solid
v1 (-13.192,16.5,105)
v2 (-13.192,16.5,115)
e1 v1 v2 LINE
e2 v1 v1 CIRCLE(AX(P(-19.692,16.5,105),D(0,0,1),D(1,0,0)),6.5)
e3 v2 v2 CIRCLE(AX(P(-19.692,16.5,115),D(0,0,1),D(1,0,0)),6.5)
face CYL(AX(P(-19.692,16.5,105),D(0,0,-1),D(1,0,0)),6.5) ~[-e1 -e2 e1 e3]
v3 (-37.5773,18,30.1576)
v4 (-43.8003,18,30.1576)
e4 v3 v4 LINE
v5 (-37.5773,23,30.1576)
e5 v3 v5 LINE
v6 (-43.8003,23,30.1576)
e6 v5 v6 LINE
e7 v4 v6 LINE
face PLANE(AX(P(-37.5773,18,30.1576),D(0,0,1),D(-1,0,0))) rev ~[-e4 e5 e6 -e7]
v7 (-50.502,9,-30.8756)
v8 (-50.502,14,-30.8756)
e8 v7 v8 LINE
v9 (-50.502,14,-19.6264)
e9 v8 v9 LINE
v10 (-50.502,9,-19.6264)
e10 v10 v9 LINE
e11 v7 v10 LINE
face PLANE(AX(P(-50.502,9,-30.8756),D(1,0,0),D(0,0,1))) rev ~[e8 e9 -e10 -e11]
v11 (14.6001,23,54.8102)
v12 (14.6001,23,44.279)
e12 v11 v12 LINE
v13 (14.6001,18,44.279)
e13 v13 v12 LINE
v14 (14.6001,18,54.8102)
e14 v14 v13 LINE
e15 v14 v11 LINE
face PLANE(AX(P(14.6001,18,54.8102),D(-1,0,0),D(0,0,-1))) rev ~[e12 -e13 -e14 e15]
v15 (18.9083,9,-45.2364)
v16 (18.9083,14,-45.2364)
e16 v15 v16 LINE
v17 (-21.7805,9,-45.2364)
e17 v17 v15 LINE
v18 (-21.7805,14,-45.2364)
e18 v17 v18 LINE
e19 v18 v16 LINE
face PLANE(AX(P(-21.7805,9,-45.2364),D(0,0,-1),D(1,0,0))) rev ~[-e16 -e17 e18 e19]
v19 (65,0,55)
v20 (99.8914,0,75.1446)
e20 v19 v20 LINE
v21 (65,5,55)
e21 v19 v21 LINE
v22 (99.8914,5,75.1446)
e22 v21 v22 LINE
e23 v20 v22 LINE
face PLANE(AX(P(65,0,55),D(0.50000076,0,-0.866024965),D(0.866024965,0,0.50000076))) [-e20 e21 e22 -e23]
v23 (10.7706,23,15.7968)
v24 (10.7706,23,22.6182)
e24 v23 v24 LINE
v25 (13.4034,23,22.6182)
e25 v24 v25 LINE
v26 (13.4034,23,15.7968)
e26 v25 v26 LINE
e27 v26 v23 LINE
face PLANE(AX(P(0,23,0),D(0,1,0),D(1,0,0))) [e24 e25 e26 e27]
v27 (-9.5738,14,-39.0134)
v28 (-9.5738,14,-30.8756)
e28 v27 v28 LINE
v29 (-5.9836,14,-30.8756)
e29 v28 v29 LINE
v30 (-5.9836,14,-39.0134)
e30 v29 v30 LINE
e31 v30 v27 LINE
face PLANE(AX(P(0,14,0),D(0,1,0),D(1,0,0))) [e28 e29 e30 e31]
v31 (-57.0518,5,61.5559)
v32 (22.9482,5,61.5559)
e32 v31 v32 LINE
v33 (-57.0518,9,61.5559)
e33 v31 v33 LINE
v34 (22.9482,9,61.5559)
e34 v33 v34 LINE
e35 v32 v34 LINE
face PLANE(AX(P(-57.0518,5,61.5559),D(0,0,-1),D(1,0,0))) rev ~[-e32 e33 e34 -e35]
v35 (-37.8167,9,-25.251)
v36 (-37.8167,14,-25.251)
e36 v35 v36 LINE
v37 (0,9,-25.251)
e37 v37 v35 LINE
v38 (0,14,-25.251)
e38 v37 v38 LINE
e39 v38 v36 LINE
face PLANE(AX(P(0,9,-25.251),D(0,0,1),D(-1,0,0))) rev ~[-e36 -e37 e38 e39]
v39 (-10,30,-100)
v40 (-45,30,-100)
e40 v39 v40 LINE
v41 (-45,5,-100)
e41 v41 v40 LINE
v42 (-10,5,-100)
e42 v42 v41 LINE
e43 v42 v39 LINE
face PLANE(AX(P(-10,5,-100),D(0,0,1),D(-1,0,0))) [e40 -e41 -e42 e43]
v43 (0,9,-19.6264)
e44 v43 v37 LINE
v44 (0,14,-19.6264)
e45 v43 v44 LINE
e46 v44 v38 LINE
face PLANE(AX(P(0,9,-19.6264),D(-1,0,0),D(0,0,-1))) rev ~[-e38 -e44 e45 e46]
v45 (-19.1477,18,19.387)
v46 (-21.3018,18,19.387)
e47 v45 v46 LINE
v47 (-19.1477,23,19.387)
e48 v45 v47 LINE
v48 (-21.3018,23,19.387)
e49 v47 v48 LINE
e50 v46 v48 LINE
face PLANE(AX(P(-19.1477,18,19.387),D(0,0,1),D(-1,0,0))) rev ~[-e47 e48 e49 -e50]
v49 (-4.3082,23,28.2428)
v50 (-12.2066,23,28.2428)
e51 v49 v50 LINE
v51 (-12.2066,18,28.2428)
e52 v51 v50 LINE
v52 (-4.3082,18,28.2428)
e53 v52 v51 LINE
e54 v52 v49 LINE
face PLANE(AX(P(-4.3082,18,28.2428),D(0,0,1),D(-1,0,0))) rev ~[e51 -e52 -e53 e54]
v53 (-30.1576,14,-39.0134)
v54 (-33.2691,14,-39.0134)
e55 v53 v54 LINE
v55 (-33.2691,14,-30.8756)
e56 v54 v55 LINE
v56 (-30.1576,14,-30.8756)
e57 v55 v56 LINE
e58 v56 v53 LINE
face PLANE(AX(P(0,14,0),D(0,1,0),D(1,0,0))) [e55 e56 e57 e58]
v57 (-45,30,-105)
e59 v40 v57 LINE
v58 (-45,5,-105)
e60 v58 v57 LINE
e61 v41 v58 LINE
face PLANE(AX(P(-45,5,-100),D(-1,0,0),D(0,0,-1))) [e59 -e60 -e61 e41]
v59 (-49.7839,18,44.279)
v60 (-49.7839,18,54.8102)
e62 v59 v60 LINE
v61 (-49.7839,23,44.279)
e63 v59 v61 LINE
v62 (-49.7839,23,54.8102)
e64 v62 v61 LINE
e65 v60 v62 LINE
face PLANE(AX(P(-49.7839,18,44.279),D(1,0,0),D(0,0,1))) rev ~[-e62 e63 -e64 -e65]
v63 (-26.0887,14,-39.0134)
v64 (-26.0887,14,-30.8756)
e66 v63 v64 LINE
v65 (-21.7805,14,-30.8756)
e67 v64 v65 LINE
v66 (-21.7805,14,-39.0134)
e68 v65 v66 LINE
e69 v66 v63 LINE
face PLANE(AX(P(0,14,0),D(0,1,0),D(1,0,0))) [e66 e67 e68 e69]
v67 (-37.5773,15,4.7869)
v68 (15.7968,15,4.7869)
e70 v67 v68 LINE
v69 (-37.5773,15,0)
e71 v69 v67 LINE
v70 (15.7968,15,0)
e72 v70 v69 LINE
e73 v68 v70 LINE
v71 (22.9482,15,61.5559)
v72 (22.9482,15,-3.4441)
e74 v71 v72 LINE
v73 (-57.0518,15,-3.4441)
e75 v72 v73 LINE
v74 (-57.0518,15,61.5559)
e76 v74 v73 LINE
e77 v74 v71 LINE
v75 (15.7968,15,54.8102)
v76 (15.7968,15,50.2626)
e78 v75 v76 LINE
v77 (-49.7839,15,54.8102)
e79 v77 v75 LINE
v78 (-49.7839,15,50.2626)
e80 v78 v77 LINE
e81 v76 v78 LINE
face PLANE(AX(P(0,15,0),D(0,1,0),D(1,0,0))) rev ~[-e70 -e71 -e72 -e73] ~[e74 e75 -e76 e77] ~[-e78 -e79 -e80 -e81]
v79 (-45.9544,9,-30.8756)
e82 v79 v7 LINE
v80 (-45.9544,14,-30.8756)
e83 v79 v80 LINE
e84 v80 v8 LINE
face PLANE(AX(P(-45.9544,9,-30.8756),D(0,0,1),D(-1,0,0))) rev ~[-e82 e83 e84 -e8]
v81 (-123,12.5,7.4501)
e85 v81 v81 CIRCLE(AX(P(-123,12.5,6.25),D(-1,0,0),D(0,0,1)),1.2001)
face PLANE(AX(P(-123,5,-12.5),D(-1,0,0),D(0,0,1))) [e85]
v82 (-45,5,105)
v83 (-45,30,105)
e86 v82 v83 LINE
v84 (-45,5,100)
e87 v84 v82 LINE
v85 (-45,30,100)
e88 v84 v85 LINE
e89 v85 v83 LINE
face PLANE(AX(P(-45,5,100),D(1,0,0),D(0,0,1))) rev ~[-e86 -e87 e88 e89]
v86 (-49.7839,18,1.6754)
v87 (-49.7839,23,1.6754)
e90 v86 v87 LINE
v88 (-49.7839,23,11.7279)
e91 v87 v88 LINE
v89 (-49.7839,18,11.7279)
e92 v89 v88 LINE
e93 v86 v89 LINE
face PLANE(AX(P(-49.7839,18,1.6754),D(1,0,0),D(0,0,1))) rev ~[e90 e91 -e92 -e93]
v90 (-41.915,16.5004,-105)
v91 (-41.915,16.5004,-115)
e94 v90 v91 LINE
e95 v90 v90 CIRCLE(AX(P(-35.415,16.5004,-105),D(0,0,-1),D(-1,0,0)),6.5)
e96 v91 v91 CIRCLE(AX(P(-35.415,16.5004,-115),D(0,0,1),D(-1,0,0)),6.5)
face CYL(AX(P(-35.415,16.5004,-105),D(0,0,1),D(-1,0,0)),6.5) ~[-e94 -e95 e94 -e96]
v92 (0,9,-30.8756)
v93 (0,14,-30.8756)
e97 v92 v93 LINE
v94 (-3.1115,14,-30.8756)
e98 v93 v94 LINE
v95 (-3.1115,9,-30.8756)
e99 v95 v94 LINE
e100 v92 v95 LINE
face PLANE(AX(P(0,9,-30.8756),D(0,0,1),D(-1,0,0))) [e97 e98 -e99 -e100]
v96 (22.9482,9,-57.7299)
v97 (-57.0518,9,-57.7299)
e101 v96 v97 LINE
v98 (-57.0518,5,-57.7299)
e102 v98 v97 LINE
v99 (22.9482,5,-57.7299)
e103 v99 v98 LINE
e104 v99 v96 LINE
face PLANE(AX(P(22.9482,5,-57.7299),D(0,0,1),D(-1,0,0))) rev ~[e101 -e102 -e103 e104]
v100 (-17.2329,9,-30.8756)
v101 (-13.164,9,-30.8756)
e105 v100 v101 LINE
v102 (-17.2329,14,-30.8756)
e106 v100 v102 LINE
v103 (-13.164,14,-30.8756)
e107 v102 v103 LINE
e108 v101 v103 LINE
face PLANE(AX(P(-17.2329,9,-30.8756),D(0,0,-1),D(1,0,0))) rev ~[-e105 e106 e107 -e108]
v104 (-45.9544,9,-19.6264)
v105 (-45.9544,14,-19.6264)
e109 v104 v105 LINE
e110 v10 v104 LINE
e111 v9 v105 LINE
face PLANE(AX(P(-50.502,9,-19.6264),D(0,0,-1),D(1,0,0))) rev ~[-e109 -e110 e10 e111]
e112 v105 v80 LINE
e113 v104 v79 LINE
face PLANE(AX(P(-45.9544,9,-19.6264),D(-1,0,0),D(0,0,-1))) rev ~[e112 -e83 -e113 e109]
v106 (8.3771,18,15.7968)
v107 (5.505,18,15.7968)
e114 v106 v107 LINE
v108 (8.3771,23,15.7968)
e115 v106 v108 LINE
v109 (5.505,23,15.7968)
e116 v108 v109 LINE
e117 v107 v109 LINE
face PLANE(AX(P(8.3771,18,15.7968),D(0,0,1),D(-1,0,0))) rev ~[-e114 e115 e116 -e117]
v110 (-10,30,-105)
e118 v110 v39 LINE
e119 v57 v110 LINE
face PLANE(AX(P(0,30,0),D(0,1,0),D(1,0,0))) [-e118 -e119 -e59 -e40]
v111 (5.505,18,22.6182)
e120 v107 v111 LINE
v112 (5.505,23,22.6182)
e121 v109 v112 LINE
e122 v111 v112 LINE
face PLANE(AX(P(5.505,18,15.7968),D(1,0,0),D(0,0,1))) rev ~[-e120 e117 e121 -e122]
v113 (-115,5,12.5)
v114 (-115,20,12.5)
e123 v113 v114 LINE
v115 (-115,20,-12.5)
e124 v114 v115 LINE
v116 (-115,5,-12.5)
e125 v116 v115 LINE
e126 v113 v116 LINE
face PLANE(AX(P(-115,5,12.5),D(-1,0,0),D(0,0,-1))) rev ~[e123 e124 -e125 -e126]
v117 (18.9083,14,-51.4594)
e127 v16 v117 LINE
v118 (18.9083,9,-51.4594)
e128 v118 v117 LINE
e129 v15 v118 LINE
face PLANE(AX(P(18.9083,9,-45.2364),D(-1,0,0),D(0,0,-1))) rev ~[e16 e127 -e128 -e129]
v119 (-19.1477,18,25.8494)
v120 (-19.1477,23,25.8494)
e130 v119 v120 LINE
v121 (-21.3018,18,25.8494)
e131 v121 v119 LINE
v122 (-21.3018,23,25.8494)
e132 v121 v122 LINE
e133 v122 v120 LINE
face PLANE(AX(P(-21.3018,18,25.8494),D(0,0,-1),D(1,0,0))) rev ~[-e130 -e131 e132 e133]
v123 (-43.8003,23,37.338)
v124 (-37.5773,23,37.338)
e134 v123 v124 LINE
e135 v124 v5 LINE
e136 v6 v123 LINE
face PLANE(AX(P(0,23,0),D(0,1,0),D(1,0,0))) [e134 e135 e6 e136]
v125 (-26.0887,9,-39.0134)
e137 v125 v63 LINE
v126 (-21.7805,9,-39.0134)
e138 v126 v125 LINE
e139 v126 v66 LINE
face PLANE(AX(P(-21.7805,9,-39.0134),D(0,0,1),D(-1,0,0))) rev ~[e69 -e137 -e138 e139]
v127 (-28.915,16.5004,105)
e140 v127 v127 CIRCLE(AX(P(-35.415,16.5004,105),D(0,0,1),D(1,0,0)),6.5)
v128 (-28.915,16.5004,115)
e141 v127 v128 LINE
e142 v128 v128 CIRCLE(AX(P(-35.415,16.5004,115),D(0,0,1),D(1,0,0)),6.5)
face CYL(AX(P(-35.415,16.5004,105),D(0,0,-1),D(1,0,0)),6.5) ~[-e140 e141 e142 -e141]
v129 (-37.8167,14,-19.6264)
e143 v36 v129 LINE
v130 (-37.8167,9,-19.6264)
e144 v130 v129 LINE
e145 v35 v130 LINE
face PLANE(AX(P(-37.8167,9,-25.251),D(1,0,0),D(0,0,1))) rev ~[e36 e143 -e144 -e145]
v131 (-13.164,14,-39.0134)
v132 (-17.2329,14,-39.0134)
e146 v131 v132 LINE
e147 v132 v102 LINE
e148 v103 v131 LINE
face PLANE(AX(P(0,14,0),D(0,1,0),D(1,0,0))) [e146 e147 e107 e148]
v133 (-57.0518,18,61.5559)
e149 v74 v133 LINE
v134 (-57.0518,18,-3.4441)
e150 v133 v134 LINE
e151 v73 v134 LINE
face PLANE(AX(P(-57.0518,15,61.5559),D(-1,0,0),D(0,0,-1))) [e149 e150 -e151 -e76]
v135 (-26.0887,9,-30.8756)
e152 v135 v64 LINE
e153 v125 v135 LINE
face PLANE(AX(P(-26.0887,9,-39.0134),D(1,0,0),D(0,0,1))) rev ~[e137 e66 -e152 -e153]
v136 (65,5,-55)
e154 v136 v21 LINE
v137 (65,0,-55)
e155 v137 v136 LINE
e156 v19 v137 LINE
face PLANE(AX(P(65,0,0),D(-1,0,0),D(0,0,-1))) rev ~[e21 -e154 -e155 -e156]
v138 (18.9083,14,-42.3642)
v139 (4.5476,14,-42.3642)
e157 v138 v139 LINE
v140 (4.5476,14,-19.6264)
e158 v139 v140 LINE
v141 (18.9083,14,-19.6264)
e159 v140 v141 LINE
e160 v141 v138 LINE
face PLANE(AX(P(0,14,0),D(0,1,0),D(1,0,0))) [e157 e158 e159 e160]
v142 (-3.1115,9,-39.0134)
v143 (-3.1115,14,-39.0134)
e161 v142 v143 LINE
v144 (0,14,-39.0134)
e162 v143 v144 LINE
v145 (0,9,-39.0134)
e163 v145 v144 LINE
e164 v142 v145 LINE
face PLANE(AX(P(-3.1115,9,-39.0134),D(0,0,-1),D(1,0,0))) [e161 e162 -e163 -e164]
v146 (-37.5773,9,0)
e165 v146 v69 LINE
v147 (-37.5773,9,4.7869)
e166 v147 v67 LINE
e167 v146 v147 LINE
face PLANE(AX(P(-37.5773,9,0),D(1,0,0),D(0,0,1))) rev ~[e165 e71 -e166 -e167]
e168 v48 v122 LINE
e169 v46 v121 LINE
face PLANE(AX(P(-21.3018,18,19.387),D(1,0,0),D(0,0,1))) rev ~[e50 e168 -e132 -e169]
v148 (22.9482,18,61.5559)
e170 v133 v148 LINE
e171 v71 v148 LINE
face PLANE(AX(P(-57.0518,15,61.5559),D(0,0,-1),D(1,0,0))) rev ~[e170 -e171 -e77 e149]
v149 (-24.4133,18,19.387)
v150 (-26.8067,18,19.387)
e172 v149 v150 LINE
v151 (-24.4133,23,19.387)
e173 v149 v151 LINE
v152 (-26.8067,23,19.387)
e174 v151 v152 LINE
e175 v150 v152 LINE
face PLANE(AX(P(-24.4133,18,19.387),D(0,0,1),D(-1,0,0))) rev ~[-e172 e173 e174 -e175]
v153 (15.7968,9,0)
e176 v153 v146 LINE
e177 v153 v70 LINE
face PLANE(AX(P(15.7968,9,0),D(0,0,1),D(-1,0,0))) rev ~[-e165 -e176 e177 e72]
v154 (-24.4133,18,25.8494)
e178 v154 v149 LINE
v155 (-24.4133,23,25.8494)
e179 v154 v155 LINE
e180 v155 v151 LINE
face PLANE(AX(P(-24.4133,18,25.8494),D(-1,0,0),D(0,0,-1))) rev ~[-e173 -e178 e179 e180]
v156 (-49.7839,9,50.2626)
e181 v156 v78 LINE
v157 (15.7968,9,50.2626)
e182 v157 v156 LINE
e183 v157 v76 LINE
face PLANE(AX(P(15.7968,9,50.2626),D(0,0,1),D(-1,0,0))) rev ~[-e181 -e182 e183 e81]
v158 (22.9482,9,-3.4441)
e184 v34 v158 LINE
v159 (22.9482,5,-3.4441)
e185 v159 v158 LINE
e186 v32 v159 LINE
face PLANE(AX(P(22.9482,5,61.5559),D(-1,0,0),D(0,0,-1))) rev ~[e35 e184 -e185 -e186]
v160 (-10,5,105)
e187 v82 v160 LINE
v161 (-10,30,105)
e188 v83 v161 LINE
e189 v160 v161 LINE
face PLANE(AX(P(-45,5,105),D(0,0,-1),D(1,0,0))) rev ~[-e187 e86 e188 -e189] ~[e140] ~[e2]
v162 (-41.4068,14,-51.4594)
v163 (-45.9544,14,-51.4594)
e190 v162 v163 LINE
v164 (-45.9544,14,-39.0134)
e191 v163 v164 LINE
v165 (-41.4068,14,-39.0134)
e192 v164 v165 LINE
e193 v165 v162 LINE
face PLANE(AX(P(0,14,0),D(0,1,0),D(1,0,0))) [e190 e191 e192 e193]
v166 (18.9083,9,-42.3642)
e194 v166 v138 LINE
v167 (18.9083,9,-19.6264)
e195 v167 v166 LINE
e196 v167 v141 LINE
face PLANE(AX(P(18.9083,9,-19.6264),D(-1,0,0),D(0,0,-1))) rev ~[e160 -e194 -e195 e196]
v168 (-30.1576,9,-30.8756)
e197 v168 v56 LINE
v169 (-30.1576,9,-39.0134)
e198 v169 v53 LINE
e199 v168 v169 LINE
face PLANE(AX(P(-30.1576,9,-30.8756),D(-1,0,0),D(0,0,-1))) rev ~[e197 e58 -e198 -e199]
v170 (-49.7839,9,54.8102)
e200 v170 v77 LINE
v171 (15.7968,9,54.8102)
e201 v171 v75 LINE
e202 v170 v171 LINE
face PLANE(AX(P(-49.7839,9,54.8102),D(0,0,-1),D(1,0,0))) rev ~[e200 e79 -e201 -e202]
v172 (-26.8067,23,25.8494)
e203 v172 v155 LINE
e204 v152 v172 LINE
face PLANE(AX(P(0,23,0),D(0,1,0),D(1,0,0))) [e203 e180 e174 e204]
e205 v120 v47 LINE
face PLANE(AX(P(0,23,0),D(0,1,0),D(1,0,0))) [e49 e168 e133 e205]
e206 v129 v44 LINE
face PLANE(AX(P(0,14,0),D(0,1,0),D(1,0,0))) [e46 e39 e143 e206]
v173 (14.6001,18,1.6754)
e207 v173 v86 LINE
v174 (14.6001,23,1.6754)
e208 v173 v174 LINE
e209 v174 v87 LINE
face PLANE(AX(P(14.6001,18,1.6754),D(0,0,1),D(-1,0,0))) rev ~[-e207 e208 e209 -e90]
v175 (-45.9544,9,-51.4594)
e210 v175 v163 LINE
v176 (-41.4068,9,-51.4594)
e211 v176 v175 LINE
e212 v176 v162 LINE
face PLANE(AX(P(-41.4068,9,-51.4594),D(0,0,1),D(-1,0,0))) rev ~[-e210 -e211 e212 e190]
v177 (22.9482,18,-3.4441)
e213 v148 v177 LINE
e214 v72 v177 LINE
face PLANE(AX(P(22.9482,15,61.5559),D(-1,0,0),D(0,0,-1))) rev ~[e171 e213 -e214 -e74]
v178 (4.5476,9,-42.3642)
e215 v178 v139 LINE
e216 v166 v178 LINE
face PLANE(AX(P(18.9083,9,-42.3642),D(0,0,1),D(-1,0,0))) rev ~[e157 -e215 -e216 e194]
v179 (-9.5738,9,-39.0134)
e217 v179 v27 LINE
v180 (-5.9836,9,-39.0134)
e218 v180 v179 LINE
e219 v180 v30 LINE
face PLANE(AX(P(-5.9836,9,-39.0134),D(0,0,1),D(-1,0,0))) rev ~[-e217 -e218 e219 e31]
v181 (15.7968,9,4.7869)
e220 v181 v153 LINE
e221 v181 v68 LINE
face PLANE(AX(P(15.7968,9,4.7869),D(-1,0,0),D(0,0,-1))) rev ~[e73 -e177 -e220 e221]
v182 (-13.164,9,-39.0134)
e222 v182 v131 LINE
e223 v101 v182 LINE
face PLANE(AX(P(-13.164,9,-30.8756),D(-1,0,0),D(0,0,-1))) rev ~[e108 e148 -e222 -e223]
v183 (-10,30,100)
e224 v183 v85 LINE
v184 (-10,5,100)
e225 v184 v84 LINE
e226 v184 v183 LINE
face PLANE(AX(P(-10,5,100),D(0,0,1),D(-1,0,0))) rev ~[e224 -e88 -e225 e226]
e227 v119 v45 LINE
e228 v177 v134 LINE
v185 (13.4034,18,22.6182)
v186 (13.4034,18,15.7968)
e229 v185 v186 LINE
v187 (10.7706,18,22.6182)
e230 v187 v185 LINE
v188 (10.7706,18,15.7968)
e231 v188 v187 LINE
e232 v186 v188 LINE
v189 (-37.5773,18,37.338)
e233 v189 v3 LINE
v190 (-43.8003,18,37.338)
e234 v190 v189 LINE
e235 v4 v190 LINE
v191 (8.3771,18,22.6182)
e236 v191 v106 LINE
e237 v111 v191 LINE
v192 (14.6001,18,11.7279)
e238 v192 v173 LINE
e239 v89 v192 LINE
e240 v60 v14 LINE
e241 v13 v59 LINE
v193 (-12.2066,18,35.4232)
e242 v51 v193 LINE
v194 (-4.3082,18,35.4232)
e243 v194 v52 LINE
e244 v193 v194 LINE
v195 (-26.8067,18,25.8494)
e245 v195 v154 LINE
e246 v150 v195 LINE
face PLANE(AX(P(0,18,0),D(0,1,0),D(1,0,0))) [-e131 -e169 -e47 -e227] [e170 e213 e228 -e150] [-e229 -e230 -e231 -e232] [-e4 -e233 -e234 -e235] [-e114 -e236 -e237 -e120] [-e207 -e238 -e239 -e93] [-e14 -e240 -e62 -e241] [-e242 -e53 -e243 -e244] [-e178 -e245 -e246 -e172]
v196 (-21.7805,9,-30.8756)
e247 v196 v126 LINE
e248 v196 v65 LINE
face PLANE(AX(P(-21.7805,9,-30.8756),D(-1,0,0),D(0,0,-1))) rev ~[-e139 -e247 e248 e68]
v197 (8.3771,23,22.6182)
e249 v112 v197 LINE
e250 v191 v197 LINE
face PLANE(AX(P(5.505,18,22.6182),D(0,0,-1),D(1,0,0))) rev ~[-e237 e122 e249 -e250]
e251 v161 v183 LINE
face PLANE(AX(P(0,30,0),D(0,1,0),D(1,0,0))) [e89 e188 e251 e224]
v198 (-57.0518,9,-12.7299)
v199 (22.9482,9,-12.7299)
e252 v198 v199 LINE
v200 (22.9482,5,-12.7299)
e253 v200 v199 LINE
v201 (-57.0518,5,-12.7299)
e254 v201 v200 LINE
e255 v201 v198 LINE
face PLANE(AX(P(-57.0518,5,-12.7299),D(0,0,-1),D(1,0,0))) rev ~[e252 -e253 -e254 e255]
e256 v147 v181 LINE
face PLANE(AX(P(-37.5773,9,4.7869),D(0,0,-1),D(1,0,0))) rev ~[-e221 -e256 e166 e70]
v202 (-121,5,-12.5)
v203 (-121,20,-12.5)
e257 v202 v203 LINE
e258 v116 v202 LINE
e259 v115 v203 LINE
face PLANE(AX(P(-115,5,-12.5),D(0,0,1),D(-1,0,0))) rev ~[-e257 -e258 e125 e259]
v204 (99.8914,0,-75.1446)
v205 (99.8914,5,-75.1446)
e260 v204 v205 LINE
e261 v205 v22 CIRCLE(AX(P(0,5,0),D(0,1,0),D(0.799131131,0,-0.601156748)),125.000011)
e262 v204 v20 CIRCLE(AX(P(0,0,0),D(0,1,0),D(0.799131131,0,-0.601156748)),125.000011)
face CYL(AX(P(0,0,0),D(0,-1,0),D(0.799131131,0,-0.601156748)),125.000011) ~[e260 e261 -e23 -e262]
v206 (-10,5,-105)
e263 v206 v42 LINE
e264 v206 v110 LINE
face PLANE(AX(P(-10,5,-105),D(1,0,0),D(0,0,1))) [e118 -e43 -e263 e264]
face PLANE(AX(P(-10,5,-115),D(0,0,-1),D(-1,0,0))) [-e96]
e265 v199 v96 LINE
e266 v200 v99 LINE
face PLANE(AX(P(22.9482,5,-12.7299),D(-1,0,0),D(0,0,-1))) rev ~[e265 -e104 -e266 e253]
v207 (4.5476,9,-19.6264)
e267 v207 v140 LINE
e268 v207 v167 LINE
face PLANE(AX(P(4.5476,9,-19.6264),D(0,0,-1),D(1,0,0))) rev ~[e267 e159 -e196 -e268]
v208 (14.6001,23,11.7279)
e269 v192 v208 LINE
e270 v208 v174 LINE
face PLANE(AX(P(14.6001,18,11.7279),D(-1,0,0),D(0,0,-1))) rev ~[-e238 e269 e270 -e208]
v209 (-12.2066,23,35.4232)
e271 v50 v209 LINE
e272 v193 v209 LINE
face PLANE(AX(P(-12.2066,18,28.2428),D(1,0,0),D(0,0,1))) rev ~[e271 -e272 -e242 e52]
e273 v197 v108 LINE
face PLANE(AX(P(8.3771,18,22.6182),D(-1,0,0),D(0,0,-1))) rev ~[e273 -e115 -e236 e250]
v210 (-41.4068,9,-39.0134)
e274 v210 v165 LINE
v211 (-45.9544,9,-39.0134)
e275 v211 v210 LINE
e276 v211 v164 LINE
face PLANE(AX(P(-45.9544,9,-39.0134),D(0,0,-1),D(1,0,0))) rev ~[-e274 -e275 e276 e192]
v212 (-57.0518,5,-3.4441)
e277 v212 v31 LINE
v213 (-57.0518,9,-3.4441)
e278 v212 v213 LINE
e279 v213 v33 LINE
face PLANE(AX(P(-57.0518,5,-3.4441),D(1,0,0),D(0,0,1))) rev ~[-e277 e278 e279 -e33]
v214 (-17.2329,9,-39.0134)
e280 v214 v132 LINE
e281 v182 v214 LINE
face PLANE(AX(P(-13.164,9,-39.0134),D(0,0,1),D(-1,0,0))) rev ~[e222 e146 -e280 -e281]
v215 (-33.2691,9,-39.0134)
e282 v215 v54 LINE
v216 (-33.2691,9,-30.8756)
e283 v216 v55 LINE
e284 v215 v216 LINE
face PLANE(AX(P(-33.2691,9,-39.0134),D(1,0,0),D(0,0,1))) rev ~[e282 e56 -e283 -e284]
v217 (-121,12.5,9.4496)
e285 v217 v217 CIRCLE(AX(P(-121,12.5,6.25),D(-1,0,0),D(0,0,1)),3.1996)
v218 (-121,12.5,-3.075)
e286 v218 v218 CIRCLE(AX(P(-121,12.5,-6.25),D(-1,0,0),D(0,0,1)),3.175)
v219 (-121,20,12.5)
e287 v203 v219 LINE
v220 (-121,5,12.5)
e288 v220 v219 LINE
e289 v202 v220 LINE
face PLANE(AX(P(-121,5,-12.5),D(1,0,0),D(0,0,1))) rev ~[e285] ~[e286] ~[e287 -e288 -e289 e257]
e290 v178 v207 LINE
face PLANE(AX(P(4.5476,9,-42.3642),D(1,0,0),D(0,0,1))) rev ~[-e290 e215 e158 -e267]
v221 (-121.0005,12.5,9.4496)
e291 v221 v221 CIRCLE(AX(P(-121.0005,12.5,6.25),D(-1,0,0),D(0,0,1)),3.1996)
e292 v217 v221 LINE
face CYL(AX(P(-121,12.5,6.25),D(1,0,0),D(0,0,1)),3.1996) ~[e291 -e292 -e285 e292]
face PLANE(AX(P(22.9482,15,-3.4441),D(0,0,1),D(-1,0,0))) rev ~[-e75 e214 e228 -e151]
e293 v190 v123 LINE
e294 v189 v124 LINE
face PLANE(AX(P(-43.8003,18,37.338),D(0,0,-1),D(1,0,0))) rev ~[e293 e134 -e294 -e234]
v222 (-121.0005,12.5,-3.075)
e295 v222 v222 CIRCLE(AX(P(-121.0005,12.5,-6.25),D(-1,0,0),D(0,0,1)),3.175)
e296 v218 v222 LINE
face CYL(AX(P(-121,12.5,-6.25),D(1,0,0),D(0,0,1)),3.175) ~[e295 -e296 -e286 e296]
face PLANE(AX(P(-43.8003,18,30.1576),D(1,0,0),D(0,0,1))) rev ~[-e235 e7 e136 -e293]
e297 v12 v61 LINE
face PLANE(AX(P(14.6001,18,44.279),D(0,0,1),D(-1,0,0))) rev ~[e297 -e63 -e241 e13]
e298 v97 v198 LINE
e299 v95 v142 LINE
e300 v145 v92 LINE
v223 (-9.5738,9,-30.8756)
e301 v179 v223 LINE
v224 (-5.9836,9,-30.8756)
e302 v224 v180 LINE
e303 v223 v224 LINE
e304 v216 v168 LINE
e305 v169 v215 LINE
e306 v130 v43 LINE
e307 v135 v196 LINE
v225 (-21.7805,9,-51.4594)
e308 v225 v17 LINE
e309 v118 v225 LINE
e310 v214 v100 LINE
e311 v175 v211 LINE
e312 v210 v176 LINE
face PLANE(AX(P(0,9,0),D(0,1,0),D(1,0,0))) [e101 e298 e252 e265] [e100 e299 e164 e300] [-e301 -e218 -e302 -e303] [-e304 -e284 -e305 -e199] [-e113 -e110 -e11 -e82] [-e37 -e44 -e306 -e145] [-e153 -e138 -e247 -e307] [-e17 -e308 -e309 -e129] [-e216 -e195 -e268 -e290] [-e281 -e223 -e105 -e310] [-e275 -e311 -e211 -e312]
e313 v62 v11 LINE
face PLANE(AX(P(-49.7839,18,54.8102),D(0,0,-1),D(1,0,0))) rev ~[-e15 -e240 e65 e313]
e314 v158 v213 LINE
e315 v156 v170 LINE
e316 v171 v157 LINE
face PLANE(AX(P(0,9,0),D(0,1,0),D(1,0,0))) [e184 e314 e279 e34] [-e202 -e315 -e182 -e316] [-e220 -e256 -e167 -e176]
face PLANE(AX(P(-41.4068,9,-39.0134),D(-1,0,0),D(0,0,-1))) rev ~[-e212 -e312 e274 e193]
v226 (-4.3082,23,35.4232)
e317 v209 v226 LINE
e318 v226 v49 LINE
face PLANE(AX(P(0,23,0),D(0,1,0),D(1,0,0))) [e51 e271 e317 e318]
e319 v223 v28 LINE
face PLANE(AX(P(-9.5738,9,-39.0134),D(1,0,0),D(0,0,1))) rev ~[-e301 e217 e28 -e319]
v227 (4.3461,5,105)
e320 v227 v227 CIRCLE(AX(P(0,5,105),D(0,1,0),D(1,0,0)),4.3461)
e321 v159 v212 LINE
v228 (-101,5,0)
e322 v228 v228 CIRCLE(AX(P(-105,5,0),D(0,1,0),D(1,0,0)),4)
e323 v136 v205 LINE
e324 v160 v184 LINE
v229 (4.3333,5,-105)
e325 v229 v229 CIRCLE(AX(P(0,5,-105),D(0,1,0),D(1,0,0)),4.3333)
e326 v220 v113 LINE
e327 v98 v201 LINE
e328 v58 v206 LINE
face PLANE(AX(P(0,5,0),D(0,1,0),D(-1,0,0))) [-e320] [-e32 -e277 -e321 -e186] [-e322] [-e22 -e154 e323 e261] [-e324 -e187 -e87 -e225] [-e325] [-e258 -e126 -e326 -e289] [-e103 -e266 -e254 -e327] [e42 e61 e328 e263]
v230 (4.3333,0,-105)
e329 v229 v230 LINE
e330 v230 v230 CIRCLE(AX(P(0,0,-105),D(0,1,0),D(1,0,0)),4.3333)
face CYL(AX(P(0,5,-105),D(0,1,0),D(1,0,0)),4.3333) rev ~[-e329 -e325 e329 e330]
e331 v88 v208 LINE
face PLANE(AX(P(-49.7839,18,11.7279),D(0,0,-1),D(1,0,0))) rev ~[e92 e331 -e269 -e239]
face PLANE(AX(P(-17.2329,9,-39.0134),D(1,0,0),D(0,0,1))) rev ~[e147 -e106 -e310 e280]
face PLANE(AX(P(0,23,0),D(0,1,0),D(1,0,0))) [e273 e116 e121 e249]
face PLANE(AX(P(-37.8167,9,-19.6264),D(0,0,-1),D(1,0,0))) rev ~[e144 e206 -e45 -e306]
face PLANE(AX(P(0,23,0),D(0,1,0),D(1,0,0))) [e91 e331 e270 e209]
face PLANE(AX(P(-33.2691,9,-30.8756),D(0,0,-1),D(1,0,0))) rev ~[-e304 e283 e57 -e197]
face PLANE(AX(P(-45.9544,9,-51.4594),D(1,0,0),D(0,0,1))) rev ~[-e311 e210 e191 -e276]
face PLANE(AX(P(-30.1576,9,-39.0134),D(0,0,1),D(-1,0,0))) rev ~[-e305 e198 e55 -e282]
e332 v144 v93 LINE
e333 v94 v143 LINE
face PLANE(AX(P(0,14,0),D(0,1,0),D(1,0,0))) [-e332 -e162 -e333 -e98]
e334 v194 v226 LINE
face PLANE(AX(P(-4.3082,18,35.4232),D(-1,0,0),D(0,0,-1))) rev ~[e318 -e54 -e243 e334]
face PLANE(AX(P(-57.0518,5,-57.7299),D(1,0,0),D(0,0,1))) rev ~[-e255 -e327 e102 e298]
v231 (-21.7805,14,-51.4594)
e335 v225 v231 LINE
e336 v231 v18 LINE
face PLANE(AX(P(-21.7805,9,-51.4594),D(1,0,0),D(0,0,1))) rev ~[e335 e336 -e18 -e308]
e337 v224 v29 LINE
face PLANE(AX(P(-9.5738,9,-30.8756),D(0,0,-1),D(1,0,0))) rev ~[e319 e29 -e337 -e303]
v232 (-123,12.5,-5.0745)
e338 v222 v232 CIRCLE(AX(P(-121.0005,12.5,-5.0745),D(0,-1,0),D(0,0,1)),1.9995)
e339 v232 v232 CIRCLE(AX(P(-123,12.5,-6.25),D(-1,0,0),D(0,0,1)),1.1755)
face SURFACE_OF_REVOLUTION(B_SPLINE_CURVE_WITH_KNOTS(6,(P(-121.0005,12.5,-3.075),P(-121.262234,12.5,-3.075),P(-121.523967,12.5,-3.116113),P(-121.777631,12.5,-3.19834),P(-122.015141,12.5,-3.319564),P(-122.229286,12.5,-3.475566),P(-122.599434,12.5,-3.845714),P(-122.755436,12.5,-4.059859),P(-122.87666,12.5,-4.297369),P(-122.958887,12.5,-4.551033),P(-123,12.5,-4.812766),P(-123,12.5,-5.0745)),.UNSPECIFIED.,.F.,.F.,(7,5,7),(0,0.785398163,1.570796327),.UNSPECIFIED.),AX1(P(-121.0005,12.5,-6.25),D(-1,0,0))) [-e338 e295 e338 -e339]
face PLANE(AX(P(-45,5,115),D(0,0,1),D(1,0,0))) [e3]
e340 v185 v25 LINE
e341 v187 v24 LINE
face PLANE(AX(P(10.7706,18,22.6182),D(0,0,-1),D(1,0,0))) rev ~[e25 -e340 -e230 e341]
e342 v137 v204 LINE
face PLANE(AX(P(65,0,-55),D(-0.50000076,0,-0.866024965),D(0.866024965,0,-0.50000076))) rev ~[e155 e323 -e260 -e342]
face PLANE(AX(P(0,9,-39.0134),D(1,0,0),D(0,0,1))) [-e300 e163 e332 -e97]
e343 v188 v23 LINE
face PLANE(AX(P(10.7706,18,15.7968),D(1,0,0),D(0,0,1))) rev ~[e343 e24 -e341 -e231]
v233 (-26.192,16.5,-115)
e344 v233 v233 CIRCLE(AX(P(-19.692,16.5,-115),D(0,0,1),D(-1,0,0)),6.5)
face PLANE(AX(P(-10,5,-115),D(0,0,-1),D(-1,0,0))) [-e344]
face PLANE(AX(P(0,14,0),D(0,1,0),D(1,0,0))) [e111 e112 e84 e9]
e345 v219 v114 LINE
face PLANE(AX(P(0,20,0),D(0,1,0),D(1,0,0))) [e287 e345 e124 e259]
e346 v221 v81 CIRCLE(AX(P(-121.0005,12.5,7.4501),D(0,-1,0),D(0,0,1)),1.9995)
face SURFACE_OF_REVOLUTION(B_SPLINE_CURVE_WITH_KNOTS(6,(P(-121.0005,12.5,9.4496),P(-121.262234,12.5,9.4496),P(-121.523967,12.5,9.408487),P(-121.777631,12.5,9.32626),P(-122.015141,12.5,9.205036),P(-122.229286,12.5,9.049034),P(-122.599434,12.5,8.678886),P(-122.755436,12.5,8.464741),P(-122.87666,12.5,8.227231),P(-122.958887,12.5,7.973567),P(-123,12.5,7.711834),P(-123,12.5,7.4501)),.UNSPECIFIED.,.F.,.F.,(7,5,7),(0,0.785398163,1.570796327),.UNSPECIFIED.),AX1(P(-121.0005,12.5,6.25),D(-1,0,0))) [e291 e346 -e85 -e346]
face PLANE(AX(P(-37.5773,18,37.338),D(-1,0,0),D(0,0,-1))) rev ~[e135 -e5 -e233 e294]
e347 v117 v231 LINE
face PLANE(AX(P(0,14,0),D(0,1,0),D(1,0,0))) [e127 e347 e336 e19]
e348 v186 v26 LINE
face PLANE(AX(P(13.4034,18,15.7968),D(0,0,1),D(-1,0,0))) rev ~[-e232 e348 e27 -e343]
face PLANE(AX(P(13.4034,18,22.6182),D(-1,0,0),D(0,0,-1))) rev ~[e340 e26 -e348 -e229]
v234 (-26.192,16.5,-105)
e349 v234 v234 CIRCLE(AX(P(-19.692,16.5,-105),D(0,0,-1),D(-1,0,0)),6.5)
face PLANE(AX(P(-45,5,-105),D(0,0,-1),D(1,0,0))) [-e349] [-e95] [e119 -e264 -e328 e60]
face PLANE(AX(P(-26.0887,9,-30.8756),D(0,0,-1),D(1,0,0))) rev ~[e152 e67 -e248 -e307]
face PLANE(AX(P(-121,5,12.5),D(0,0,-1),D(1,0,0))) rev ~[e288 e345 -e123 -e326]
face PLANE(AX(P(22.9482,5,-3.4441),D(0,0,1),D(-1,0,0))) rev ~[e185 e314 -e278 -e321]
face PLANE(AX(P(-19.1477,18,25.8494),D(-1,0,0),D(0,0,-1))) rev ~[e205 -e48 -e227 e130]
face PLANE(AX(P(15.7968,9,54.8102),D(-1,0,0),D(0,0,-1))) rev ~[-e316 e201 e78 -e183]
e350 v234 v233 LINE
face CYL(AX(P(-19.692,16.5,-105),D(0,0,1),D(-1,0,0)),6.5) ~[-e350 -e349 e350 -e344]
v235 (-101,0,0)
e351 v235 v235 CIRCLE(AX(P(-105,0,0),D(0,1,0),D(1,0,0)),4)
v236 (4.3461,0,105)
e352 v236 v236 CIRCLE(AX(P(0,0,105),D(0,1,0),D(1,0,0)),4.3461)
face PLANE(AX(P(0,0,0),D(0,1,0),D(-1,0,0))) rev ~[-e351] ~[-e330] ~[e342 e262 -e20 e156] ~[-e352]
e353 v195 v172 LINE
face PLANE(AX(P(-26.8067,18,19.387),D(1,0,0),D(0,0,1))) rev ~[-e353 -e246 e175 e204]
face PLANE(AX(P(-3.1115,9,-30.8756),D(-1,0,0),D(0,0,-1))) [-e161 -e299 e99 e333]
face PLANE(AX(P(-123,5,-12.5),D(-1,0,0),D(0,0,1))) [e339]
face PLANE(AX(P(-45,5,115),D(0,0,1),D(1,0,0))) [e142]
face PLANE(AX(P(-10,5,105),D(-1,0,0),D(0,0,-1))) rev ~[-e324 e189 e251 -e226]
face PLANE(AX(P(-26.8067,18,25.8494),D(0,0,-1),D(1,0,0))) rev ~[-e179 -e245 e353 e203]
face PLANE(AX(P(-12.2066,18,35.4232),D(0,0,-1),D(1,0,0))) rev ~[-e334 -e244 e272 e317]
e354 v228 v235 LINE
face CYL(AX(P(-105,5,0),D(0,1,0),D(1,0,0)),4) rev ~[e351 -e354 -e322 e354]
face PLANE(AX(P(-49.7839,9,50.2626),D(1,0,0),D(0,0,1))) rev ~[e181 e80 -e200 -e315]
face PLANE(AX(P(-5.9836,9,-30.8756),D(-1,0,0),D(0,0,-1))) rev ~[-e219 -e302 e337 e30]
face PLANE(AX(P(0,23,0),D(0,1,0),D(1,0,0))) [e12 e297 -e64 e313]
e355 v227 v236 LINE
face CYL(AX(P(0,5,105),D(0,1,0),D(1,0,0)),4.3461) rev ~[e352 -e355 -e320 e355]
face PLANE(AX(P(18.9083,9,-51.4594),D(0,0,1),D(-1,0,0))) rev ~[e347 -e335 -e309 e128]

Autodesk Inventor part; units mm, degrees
ref_plane "YZ Plane" through (0, 0, 0) normal (1, 0, 0) x (0, 1, 0)
ref_plane "XZ Plane" through (0, 0, 0) normal (0, 1, 0) x (-1, 0, 0)
ref_plane "XY Plane" through (0, 0, 0) normal (0, 0, 1) x (1, 0, 0)
sketch "Sketch1" plane through (0, 0, 0) normal (0, 1, 0) x (-1, 0, 0)
  arc A0 (-99.8914, -75.1446) -> (-99.8914, 75.1446) centre (0, 0) ccw
  line L0 (-65, 0) -> (-65, 55)
  line L1 (-65, 55) -> (-99.8914, 75.1446)
  line L2 (-65, 0) -> (-65, -55)
  line L3 (-65, -55) -> (-99.8914, -75.1446)
  dimension "d0" = 250
  dimension "d4" = 55
  dimension "d6" = 120
extrude "Extrusion1" add sketch "Sketch1" along normal blind 5
sketch "Sketch2" plane through (0, 5, 0) normal (0, 1, 0) x (1, 0, 0)
  circle A0 centre (-105, 0) radius 4
  circle A1 centre (0, 105) radius 4.3333
  circle A2 centre (0, -105) radius 4.3461
  arc A3 (99.8914, 75.1446) -> (99.8914, -75.1446) centre (0, 0) ccw
  dimension "d9" = 8
  dimension "d10" = 105
  dimension "d11" = 105
  dimension "d12" = 105
extrude "Extrusion2" cut sketch "Sketch2" against normal blind 10
sketch "Sketch3" plane through (0, 5, 0) normal (0, 1, 0) x (1, 0, 0)
  line L0 (-57.0518, -61.5559) -> (22.9482, -61.5559)
  line L1 (22.9482, -61.5559) -> (22.9482, 3.4441)
  line L2 (22.9482, 3.4441) -> (-57.0518, 3.4441)
  line L3 (-57.0518, 3.4441) -> (-57.0518, -61.5559)
  line L4 (-57.0518, 12.7299) -> (22.9482, 12.7299)
  line L5 (22.9482, 12.7299) -> (22.9482, 57.7299)
  line L6 (22.9482, 57.7299) -> (-57.0518, 57.7299)
  line L7 (-57.0518, 57.7299) -> (-57.0518, 12.7299)
  point P0 (0, 0)
  dimension "d15" = 65
  dimension "d16" = 80
  dimension "d17" = 45
extrude "Extrusion3" add sketch "Sketch3" along normal blind 4
sketch "Sketch4" plane through (0, 9, 0) normal (0, 1, 0) x (1, 0, 0)
  line L0 (-49.7839, -54.8102) -> (15.7968, -54.8102)
  line L1 (15.7968, -54.8102) -> (15.7968, -50.2626)
  line L2 (15.7968, -50.2626) -> (-49.7839, -50.2626)
  line L3 (-49.7839, -50.2626) -> (-49.7839, -54.8102)
  line L4 (-37.5773, -4.7869) -> (15.7968, -4.7869)
  line L5 (15.7968, -4.7869) -> (15.7968, 0)
  line L6 (15.7968, 0) -> (-37.5773, 0)
  line L7 (-37.5773, 0) -> (-37.5773, -4.7869)
  point P0 (0, 0)
extrude "Extrusion4" add sketch "Sketch4" along normal blind 6
sketch "Sketch5" plane through (0, 15, 0) normal (0, 1, 0) x (1, 0, 0)
  line L0 (-57.0518, -61.5559) -> (-57.0518, 3.4441) projected
  line L1 (22.9482, -61.5559) -> (22.9482, 3.4441) projected
  line L2 (-57.0518, -61.5559) -> (22.9482, -61.5559)
  line L3 (22.9482, -61.5559) -> (22.9482, 3.4441)
  line L4 (22.9482, 3.4441) -> (-57.0518, 3.4441)
  line L5 (-57.0518, 3.4441) -> (-57.0518, -61.5559)
  point P0 (0, 0)
extrude "Extrusion5" add sketch "Sketch5" along normal blind 3
sketch "Sketch6" plane through (0, 18, 0) normal (0, 1, 0) x (1, 0, 0)
  line L0 (-49.7839, -50.2626) -> (-49.7839, -54.8102) projected
  line L1 (-49.7839, -54.8102) -> (14.6001, -54.8102)
  line L2 (14.6001, -54.8102) -> (14.6001, -44.279)
  line L3 (14.6001, -44.279) -> (-49.7839, -44.279)
  line L4 (-49.7839, -44.279) -> (-49.7839, -54.8102)
  line L5 (-49.7839, -11.7279) -> (14.6001, -11.7279)
  line L6 (14.6001, -11.7279) -> (14.6001, -1.6754)
  line L7 (14.6001, -1.6754) -> (-49.7839, -1.6754)
  line L8 (-49.7839, -1.6754) -> (-49.7839, -11.7279)
  line L9 (-43.8003, -37.338) -> (-37.5773, -37.338)
  line L10 (-37.5773, -37.338) -> (-37.5773, -30.1576)
  line L11 (-37.5773, -30.1576) -> (-43.8003, -30.1576)
  line L12 (-43.8003, -30.1576) -> (-43.8003, -37.338)
  line L13 (-26.8067, -25.8494) -> (-24.4133, -25.8494)
  line L14 (-24.4133, -25.8494) -> (-24.4133, -19.387)
  line L15 (-24.4133, -19.387) -> (-26.8067, -19.387)
  line L16 (-26.8067, -19.387) -> (-26.8067, -25.8494)
  line L17 (-21.3018, -25.8494) -> (-19.1477, -25.8494)
  line L18 (-19.1477, -25.8494) -> (-19.1477, -19.387)
  line L19 (-19.1477, -19.387) -> (-21.3018, -19.387)
  line L20 (-21.3018, -19.387) -> (-21.3018, -25.8494)
  line L21 (-12.2066, -35.4232) -> (-4.3082, -35.4232)
  line L22 (-4.3082, -35.4232) -> (-4.3082, -28.2428)
  line L23 (-4.3082, -28.2428) -> (-12.2066, -28.2428)
  line L24 (-12.2066, -28.2428) -> (-12.2066, -35.4232)
  line L25 (5.505, -22.6182) -> (8.3771, -22.6182)
  line L26 (8.3771, -22.6182) -> (8.3771, -15.7968)
  line L27 (8.3771, -15.7968) -> (5.505, -15.7968)
  line L28 (5.505, -15.7968) -> (5.505, -22.6182)
  line L29 (10.7706, -22.6182) -> (13.4034, -22.6182)
  line L30 (13.4034, -22.6182) -> (13.4034, -15.7968)
  line L31 (13.4034, -15.7968) -> (10.7706, -15.7968)
  line L32 (10.7706, -15.7968) -> (10.7706, -22.6182)
  point P0 (0, 0)
extrude "Extrusion6" add sketch "Sketch6" along normal blind 5
sketch "Sketch7" plane through (0, 9, 0) normal (0, 1, 0) x (1, 0, 0)
  line L0 (-50.502, 19.6264) -> (-45.9544, 19.6264)
  line L1 (-45.9544, 19.6264) -> (-45.9544, 30.8756)
  line L2 (-45.9544, 30.8756) -> (-50.502, 30.8756)
  line L3 (-50.502, 30.8756) -> (-50.502, 19.6264)
  line L4 (-45.9544, 39.0134) -> (-41.4068, 39.0134)
  line L5 (-41.4068, 39.0134) -> (-41.4068, 51.4594)
  line L6 (-41.4068, 51.4594) -> (-45.9544, 51.4594)
  line L7 (-45.9544, 51.4594) -> (-45.9544, 39.0134)
  line L8 (-37.8167, 19.6264) -> (0, 19.6264)
  line L9 (0, 19.6264) -> (0, 25.251)
  line L10 (0, 25.251) -> (-37.8167, 25.251)
  line L11 (-37.8167, 25.251) -> (-37.8167, 19.6264)
  line L12 (-33.2691, 30.8756) -> (-30.1576, 30.8756)
  line L13 (-30.1576, 30.8756) -> (-30.1576, 39.0134)
  line L14 (-30.1576, 39.0134) -> (-33.2691, 39.0134)
  line L15 (-33.2691, 39.0134) -> (-33.2691, 30.8756)
  line L16 (-26.0887, 30.8756) -> (-21.7805, 30.8756)
  line L17 (-21.7805, 30.8756) -> (-21.7805, 39.0134)
  line L18 (-21.7805, 39.0134) -> (-26.0887, 39.0134)
  line L19 (-26.0887, 39.0134) -> (-26.0887, 30.8756)
  line L20 (-17.2329, 30.8756) -> (-13.164, 30.8756)
  line L21 (-13.164, 30.8756) -> (-13.164, 39.0134)
  line L22 (-13.164, 39.0134) -> (-17.2329, 39.0134)
  line L23 (-17.2329, 39.0134) -> (-17.2329, 30.8756)
  line L24 (-9.5738, 30.8756) -> (-5.9836, 30.8756)
  line L25 (-5.9836, 30.8756) -> (-5.9836, 39.0134)
  line L26 (-5.9836, 39.0134) -> (-9.5738, 39.0134)
  line L27 (-9.5738, 39.0134) -> (-9.5738, 30.8756)
  line L28 (0, 30.8756) -> (-3.1115, 30.8756)
  line L29 (-3.1115, 30.8756) -> (-3.1115, 39.0134)
  line L30 (-3.1115, 39.0134) -> (0, 39.0134)
  line L31 (0, 39.0134) -> (0, 30.8756)
  line L32 (-21.7805, 45.2364) -> (18.9083, 45.2364)
  line L33 (18.9083, 45.2364) -> (18.9083, 51.4594)
  line L34 (18.9083, 51.4594) -> (-21.7805, 51.4594)
  line L35 (-21.7805, 51.4594) -> (-21.7805, 45.2364)
  line L36 (4.5476, 19.6264) -> (18.9083, 19.6264)
  line L37 (18.9083, 19.6264) -> (18.9083, 42.3642)
  line L38 (18.9083, 42.3642) -> (4.5476, 42.3642)
  line L39 (4.5476, 42.3642) -> (4.5476, 19.6264)
  point P0 (0, 0)
extrude "Extrusion7" add sketch "Sketch7" along normal blind 5
sketch "Sketch8" plane through (0, 5, 0) normal (0, 1, 0) x (1, 0, 0)
  line L0 (-45, -105) -> (-10, -105)
  line L1 (-10, -105) -> (-10, -100)
  line L2 (-10, -100) -> (-45, -100)
  line L3 (-45, -100) -> (-45, -105)
  line L4 (-159.3833, 0) -> (129.3404, 0)
  arc A0 (99.8914, 75.1446) -> (99.8914, -75.1446) centre (0, 0) ccw projected
  line L5 (-45, 105) -> (-10, 105)
  line L6 (-10, 105) -> (-10, 100)
  line L7 (-10, 100) -> (-45, 100)
  line L8 (-45, 100) -> (-45, 105)
  dimension "d28" = 5
  dimension "d29" = 35
  dimension "d31" = 100
extrude "Extrusion8" add sketch "Sketch8" along normal blind 25
sketch "Sketch9" plane through (-10, 5, -105) normal (0, 0, -1) x (-1, 0, 0)
  circle A0 centre (9.692, 11.5) radius 6.5
  line L0 (-24.6001, 18) -> (39.7839, 18) projected
  circle A1 centre (25.415, 11.5004) radius 6.5
  point P0 (-10, -5)
  dimension "d34" = 13
  dimension "d35" = 13
extrude "Extrusion9" add sketch "Sketch9" along normal blind 10
sketch "Sketch10" plane through (-45, 5, 105) normal (0, 0, 1) x (1, 0, 0)
  circle A0 centre (9.585, 11.5004) radius 6.5 projected
  circle A1 centre (9.585, 11.5004) radius 6.5
  circle A2 centre (25.308, 11.5) radius 6.5 projected
  circle A3 centre (25.308, 11.5) radius 6.5
  point P0 (45, -5)
extrude "Extrusion10" add sketch "Sketch10" along normal blind 10
sketch "Sketch11" plane through (0, 5, 0) normal (0, 1, 0) x (1, 0, 0)
  line L0 (-115, 12.5) -> (-121, 12.5)
  line L1 (-121, 12.5) -> (-121, -12.5)
  line L2 (-121, -12.5) -> (-115, -12.5)
  line L3 (-115, -12.5) -> (-115, 12.5)
  circle A0 centre (-105, 0) radius 4 projected
  point P0 (0, 0)
  dimension "d40" = 10
  dimension "d41" = 6
  dimension "d42" = 25
  dimension "d43" = 12.5
extrude "Extrusion11" add sketch "Sketch11" along normal blind 15 contours L3 L2 L1 L0
sketch "Sketch12" plane through (-121, 5, -12.5) normal (-1, 0, 0) x (0, 0, 1)
  circle A0 centre (6.25, 7.5) radius 3.175
  circle A1 centre (18.75, 7.5) radius 3.1996
  line L0 (137.5, 0) -> (-112.5, 0) projected
  line L1 (0, 15) -> (25, 15) projected
  line L2 (25, 15) -> (0, 15) projected
  line L3 (12.5, 15) -> (12.5, 0)
  line L4 (0, 0) -> (0, 15) projected
  point P0 (12.5, -5)
  point P1 (-62.6446, 0)
  point P2 (87.6446, 0)
  dimension "d46" = 15
  dimension "d47" = 7.5
  dimension "d48" = 7.5
  dimension "d49" = 12.5
  dimension "d50" = 6.25
  dimension "d51" = 6.25
extrude "Extrusion12" add sketch "Sketch12" along normal blind 2 contours A0 | A1
fillet "Fillet1" radius 2 2 edges at (-123, 12.5, 3.0504) (-123, 12.5, -9.425)
properties part number "Top and middle round"
